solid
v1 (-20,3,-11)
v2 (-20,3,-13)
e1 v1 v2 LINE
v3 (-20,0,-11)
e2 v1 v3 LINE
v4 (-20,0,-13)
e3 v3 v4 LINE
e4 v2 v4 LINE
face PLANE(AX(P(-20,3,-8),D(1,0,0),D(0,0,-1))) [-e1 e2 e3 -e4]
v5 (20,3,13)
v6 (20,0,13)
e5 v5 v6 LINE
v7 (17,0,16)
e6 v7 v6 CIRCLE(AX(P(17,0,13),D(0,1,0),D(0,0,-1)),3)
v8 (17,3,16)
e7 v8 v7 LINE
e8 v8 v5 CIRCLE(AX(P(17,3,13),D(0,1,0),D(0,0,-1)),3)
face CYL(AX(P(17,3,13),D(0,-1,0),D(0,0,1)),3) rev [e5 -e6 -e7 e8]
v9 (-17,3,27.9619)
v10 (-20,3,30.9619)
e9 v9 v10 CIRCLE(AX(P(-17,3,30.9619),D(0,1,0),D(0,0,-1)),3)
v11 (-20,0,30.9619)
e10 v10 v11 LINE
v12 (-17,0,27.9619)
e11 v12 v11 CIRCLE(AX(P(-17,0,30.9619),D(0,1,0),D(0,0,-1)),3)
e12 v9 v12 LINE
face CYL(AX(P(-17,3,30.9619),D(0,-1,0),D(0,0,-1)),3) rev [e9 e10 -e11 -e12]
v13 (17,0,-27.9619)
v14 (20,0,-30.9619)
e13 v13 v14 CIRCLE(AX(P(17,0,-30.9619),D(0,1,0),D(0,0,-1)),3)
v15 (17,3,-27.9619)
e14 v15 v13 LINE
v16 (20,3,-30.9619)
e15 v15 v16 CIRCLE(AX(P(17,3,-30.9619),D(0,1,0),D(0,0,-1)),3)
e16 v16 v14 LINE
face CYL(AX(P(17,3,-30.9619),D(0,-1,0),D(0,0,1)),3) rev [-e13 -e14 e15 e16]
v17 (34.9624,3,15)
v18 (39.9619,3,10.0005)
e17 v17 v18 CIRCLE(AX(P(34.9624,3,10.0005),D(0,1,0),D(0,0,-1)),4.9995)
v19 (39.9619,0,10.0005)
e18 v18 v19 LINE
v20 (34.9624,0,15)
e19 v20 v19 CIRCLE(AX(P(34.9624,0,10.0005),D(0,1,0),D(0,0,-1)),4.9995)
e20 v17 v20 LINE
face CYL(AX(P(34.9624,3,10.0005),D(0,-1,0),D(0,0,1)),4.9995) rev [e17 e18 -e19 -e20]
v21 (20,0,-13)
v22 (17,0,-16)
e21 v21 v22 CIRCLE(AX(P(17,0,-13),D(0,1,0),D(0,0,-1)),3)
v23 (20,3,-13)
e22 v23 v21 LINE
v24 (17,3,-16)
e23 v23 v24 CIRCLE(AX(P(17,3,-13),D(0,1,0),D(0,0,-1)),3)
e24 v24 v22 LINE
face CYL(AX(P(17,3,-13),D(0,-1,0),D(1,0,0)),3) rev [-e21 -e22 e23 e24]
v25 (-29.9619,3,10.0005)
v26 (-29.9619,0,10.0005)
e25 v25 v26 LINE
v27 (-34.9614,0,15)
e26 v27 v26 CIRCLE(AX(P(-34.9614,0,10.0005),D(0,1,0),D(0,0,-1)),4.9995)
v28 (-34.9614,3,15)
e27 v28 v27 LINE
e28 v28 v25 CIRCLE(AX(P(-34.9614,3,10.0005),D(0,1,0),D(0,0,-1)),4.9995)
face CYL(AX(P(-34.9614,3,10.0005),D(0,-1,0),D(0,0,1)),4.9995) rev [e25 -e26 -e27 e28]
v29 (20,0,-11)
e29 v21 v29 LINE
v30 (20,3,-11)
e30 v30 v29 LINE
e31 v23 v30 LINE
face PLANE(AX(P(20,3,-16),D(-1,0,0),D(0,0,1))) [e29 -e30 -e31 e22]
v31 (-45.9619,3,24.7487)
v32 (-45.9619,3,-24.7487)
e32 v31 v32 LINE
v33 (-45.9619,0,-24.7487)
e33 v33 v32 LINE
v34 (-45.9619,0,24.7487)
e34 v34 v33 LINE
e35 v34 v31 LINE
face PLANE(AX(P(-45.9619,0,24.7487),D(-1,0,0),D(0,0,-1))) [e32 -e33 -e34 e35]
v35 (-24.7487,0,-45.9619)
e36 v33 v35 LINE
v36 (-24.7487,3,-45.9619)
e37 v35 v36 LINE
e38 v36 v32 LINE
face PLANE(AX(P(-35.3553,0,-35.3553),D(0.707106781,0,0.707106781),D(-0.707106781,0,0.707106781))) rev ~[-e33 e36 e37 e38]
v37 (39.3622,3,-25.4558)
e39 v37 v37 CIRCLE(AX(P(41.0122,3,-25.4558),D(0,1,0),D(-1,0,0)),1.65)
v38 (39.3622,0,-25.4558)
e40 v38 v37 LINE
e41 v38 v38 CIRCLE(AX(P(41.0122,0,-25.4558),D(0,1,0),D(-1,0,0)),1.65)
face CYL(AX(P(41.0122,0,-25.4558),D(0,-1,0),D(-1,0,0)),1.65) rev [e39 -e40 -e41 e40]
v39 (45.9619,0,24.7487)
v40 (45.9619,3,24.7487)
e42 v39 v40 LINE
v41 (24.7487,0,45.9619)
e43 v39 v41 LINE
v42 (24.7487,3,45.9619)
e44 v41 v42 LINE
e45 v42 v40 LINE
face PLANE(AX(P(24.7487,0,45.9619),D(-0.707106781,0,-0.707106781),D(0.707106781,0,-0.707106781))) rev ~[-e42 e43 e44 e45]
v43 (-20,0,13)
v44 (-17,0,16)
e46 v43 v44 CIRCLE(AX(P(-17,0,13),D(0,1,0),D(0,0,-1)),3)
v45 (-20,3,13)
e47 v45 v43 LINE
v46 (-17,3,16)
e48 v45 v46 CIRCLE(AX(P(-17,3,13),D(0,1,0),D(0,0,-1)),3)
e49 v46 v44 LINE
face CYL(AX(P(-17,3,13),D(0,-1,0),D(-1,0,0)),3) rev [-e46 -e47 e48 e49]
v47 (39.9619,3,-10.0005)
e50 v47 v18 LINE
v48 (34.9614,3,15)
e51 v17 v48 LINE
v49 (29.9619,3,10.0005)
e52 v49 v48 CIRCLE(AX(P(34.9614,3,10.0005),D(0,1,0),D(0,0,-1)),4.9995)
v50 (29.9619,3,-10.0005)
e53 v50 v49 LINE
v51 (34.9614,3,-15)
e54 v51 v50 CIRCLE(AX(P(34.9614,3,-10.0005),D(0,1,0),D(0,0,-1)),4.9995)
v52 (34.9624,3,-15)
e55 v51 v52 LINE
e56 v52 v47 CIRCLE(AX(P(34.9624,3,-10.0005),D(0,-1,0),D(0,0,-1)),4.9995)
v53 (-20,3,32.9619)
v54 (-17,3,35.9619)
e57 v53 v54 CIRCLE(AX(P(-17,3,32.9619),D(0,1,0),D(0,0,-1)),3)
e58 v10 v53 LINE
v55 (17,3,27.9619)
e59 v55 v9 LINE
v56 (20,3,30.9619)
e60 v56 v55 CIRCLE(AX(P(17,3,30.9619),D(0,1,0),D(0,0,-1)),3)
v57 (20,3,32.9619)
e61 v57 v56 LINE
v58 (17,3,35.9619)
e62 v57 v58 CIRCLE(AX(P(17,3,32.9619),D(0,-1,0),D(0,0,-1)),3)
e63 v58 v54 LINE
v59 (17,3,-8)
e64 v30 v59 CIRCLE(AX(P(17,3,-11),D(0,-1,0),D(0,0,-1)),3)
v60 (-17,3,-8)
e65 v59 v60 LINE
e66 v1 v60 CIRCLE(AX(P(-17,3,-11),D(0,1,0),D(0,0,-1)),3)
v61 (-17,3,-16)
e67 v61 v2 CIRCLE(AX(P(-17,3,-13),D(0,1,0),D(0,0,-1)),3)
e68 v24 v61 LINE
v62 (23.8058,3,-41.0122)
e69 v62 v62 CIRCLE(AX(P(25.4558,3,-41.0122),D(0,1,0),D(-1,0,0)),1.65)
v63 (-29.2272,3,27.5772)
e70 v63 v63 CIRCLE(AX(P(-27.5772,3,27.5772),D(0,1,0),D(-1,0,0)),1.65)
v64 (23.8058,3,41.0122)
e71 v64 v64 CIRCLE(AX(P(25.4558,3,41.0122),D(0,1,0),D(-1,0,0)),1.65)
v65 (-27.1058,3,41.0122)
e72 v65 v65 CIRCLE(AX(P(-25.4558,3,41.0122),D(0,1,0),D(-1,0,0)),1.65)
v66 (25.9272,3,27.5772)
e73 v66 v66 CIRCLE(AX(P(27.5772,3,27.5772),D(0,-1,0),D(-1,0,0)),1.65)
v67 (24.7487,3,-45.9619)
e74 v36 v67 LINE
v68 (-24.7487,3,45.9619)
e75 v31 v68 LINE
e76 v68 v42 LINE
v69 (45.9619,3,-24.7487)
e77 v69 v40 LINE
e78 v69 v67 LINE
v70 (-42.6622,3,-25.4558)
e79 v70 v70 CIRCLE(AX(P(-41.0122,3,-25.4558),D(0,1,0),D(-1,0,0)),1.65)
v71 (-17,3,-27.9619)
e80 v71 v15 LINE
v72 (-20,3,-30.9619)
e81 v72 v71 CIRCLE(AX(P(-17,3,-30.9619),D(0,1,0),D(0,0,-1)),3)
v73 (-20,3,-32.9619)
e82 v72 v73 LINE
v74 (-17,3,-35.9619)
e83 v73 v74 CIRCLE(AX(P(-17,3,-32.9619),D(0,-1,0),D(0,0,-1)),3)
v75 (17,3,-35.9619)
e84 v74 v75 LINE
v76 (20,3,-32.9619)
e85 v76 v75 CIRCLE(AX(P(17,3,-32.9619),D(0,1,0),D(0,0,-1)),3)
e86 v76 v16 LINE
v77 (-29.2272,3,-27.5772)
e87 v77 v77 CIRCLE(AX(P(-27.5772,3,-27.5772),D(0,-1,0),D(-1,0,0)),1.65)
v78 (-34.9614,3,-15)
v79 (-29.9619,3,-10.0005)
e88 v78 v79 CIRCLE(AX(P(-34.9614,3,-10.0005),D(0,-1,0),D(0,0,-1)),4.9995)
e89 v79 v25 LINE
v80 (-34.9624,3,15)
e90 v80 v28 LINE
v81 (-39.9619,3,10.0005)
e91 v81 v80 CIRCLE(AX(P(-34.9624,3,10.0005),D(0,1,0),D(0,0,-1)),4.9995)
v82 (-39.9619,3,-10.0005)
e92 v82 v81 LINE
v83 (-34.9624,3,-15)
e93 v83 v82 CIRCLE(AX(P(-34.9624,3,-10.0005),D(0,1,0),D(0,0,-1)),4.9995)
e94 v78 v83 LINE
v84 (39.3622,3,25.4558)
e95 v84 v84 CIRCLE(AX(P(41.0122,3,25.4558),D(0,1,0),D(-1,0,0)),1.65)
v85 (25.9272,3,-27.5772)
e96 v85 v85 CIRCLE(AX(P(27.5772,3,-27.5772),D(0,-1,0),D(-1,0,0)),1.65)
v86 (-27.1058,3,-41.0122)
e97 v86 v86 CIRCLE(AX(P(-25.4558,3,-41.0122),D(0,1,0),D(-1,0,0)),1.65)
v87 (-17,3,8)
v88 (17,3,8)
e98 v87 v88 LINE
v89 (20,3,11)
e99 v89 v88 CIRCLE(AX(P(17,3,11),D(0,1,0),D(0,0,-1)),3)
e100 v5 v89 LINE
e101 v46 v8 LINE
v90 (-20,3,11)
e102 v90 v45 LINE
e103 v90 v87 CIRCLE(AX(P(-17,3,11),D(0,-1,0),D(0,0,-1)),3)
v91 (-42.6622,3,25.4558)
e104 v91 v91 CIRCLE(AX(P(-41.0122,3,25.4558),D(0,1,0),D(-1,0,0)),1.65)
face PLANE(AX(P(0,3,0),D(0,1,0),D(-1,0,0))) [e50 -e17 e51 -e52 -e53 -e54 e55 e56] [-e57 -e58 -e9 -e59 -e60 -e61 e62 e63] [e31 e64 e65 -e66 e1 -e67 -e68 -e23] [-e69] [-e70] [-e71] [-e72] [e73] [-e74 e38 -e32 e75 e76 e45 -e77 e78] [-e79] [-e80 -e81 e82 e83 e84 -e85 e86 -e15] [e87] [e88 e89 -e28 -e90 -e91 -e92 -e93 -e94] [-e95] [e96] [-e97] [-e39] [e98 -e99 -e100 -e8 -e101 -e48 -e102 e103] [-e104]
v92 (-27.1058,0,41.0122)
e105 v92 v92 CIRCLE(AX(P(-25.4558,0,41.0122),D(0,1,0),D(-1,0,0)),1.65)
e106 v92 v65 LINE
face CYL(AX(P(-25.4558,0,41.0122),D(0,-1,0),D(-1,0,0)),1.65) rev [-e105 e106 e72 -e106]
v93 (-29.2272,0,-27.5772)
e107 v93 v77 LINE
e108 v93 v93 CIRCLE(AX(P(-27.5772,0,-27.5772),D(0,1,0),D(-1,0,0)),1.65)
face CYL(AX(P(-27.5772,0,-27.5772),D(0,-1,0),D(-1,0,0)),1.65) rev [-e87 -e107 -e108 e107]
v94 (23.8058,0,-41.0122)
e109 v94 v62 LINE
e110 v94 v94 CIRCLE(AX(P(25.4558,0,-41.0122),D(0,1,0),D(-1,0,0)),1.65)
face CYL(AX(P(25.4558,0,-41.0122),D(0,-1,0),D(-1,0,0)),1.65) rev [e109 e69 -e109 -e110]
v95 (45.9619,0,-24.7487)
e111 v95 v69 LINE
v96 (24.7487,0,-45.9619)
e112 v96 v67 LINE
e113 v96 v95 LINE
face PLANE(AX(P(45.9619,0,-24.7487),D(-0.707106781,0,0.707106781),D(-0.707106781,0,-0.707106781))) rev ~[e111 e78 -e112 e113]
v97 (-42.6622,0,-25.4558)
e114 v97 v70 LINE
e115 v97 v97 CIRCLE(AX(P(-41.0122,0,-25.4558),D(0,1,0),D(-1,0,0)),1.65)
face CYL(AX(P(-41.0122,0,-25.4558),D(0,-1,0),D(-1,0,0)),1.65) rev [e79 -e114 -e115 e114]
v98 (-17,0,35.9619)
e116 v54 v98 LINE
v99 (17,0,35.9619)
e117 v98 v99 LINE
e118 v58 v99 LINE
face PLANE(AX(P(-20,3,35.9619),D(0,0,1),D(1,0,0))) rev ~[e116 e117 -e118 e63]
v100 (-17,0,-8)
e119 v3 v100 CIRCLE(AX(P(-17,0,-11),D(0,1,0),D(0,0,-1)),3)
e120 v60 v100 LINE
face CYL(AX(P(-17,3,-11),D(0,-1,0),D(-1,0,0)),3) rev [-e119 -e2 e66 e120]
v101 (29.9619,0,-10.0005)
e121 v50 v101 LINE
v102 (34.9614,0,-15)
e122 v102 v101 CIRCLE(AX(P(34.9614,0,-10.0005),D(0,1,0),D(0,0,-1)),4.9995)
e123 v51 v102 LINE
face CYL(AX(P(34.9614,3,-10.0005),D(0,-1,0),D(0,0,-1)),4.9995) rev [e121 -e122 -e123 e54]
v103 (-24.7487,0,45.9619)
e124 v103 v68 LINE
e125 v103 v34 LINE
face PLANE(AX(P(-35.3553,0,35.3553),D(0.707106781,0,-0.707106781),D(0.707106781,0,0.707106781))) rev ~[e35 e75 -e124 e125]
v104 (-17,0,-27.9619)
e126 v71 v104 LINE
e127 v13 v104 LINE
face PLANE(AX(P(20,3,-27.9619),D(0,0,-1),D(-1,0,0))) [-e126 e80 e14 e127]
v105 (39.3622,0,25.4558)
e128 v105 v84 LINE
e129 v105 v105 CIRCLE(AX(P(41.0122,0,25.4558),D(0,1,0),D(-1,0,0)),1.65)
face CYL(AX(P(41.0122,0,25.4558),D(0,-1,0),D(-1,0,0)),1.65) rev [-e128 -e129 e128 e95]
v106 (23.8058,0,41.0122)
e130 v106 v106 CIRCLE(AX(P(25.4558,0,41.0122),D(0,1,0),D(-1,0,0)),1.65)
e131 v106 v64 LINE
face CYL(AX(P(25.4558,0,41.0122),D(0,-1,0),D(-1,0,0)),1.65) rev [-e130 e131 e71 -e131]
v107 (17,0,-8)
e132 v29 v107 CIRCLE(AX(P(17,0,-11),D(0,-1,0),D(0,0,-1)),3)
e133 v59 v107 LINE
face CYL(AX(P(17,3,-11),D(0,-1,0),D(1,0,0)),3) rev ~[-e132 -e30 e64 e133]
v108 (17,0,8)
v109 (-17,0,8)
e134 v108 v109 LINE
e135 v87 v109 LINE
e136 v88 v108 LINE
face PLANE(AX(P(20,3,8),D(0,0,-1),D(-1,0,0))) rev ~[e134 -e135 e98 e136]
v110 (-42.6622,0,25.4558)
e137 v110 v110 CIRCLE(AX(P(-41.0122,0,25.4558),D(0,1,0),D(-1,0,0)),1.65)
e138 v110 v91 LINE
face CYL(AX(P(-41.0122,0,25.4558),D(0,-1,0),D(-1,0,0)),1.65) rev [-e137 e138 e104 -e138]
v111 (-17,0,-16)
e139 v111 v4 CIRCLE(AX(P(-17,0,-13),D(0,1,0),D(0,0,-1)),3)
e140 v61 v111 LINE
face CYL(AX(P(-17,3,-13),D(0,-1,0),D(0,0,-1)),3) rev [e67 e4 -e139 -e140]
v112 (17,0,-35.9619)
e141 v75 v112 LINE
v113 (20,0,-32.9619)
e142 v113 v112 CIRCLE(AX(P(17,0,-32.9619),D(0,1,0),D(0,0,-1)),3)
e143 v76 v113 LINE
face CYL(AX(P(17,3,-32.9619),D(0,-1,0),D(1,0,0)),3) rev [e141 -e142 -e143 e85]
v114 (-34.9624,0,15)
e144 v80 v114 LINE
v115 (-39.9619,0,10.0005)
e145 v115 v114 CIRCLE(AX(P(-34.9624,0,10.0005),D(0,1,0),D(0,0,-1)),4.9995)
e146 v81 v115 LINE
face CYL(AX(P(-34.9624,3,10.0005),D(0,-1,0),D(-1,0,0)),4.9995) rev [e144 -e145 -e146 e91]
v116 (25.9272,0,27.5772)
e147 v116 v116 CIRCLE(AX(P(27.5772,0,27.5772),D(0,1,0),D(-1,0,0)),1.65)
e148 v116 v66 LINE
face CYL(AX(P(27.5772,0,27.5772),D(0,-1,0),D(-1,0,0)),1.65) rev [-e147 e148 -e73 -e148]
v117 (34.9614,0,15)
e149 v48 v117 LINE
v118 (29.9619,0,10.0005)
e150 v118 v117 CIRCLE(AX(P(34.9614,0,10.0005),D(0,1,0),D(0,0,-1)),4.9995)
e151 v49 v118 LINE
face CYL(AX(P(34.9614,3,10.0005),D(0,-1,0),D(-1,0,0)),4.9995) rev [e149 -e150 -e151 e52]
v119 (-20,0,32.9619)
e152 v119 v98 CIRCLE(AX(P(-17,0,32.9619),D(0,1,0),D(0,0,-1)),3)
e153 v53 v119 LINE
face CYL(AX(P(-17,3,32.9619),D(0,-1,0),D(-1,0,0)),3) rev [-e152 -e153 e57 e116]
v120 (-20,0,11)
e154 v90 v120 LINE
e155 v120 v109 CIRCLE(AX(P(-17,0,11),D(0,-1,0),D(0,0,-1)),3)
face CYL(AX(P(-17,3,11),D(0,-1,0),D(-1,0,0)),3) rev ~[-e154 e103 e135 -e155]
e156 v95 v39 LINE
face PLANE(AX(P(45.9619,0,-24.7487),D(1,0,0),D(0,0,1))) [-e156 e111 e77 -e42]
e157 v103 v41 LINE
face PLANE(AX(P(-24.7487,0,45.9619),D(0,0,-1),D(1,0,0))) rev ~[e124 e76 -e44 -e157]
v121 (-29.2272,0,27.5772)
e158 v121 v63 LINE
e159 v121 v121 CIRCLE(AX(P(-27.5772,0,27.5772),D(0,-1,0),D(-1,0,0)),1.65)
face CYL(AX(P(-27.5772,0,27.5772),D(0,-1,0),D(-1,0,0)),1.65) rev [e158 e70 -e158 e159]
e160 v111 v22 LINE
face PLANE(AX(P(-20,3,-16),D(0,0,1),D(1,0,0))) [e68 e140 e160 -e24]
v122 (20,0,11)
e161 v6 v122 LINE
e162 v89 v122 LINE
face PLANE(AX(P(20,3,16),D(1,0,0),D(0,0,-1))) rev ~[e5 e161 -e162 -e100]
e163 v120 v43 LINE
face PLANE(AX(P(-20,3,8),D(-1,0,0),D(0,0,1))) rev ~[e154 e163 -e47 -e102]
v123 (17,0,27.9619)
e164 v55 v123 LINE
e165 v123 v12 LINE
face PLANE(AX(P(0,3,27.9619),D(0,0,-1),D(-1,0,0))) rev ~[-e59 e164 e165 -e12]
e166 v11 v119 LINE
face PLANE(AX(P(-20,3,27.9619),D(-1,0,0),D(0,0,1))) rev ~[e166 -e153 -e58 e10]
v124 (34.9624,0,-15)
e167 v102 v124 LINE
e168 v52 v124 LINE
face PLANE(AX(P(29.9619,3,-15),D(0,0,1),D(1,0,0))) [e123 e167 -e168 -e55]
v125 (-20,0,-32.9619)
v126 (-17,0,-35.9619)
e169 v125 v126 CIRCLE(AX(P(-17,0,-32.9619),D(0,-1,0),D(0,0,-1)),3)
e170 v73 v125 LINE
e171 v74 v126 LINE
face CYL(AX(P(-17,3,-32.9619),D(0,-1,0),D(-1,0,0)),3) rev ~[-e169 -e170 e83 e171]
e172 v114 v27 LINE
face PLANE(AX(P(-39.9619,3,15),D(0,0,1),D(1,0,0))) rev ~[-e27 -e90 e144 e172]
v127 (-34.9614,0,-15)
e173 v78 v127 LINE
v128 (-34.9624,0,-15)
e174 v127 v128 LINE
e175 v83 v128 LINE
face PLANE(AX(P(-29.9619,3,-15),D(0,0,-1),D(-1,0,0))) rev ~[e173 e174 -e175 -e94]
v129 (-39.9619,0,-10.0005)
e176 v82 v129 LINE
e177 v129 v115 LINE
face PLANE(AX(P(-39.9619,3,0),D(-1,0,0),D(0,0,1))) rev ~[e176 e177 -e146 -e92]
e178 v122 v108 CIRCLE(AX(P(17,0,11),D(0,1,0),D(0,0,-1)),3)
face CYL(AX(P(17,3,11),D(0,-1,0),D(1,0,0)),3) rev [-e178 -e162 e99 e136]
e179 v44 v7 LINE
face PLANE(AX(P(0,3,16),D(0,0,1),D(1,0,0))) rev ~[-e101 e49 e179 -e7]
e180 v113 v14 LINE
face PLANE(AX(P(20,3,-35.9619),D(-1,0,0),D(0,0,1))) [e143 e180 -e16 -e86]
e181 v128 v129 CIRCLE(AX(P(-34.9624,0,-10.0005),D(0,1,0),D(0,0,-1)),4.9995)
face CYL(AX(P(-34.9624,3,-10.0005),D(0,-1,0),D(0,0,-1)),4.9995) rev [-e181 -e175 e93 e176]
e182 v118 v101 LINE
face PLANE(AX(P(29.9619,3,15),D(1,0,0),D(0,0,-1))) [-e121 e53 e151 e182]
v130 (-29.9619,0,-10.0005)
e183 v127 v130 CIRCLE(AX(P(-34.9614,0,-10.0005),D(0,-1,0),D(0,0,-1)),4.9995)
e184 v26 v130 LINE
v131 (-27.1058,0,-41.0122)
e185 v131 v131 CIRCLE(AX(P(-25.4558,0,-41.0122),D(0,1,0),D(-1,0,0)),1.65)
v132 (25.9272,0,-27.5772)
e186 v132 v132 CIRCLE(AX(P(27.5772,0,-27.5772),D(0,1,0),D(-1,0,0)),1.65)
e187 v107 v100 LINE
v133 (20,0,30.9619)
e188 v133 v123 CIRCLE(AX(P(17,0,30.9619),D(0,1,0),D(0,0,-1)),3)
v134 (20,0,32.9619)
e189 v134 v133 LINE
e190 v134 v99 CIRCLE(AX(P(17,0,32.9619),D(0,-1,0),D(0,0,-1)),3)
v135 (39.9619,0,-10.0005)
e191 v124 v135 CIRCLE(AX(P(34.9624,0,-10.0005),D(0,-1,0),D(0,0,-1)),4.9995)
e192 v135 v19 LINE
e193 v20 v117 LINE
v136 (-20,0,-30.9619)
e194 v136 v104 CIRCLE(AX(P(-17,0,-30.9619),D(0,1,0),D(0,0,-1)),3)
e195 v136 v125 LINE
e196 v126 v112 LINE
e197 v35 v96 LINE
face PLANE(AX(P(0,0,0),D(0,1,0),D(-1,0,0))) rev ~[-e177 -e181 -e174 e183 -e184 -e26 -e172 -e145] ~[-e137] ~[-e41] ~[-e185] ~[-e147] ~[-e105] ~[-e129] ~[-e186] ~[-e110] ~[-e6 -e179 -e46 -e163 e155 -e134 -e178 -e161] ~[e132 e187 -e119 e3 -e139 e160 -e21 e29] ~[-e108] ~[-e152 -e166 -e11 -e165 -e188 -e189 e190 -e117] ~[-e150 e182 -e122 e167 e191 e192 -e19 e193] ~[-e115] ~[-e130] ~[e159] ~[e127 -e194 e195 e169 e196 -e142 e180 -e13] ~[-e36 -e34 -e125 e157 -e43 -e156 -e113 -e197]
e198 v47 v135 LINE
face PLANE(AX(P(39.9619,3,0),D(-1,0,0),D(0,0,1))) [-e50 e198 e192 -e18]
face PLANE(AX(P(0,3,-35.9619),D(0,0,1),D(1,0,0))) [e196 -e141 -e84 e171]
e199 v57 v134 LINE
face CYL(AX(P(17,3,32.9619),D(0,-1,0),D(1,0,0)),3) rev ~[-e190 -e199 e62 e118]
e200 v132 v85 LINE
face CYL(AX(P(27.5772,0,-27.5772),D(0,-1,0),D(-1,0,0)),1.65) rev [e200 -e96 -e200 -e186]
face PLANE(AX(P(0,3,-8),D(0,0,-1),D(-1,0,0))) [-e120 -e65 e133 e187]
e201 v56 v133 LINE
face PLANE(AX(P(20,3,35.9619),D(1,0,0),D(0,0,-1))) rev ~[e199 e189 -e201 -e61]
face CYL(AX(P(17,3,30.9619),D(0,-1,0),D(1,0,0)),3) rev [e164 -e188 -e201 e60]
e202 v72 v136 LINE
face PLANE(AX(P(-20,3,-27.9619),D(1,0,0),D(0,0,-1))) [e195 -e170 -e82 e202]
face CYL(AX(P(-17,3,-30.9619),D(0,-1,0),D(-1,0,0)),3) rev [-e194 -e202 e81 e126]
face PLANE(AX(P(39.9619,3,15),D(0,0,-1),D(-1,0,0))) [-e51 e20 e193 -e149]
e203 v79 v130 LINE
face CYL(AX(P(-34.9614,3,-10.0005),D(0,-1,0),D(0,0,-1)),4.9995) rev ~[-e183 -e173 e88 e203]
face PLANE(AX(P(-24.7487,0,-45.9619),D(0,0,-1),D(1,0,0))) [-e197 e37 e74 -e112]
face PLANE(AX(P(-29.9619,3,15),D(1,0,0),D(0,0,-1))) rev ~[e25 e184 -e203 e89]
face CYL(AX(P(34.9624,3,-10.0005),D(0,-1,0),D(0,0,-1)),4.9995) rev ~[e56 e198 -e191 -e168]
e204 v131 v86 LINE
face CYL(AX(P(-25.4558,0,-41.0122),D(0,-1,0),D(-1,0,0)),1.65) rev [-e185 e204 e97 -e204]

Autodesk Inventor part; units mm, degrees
ref_plane "YZ Plane" through (0, 0, 0) normal (1, 0, 0) x (0, 1, 0)
ref_plane "XZ Plane" through (0, 0, 0) normal (0, 1, 0) x (-1, 0, 0)
ref_plane "XY Plane" through (0, 0, 0) normal (0, 0, 1) x (1, 0, 0)
sketch "草图1" plane through (0, 0, 0) normal (0, 1, 0) x (-1, 0, 0)
  line L0 (35.3553, 35.3553) -> (-35.3553, 35.3553)
  line L1 (-35.3553, 35.3553) -> (-35.3553, -35.3553)
  line L2 (-35.3553, -35.3553) -> (35.3553, -35.3553)
  line L3 (35.3553, -35.3553) -> (35.3553, 35.3553)
  line L4 (35.3553, 35.3553) -> (-35.3553, -35.3553)
  line L5 (35.3553, -35.3553) -> (-35.3553, 35.3553)
  line L6 (-24.7487, 45.9619) -> (-45.9619, 24.7487)
  line L7 (-45.9619, -24.7487) -> (-24.7487, -45.9619)
  line L8 (24.7487, -45.9619) -> (45.9619, -24.7487)
  line L9 (45.9619, 24.7487) -> (24.7487, 45.9619)
  line L10 (24.7487, 45.9619) -> (-24.7487, 45.9619)
  line L11 (45.9619, 24.7487) -> (45.9619, -24.7487)
  line L12 (24.7487, -45.9619) -> (-24.7487, -45.9619)
  line L13 (-45.9619, -24.7487) -> (-45.9619, 24.7487)
  circle A0 centre (41.0122, 25.4558) radius 1.65
  circle A1 centre (27.5772, 27.5772) radius 1.65
  circle A2 centre (25.4558, 41.0122) radius 1.65
  circle A3 centre (-25.4558, 41.0122) radius 1.65
  circle A4 centre (-27.5772, 27.5772) radius 1.65
  circle A5 centre (-41.0122, 25.4558) radius 1.65
  circle A6 centre (-41.0122, -25.4558) radius 1.65
  circle A7 centre (-27.5772, -27.5772) radius 1.65
  circle A8 centre (-25.4558, -41.0122) radius 1.65
  circle A9 centre (25.4558, -41.0122) radius 1.65
  circle A10 centre (27.5772, -27.5772) radius 1.65
  circle A11 centre (41.0122, -25.4558) radius 1.65
  point P0 (0, 0)
  point P1 (0, 0)
  point P2 (-35.3553, -35.3553)
  point P3 (35.3553, -35.3553)
  dimension "d0" = 100
  dimension "d1" = 30
  dimension "d2" = 45
  dimension "d5" = 360
  dimension "d12" = 3.3
  dimension "d13" = 3
  dimension "d14" = 11
  dimension "d15" = 3.3
  dimension "d16" = 11
  dimension "d19" = 360
extrude "拉伸1" add sketch "草图1" along normal blind 3 contours L4 A1 L5 A4 L0 | L9 L11 L8 L3 | L3 L5 A10 L4 A1 | L0 L6 L10 L9 | L5 A4 L4 A7 L1 | L1 L7 L13 L6 | L8 L12 L7 L2 | L2 L4 A7 L5 A10
sketch "草图2" plane through (0, 3, 0) normal (0, 1, 0) x (1, 0, 0)
  line L0 (45.9619, -24.7487) -> (45.9619, 24.7487) projected
  line L1 (45.9619, 24.7487) -> (24.7487, 45.9619) projected
  line L2 (24.7487, 45.9619) -> (-24.7487, 45.9619) projected
  line L3 (-24.7487, 45.9619) -> (-45.9619, 24.7487) projected
  line L4 (-45.9619, 24.7487) -> (-45.9619, -24.7487) projected
  line L5 (-45.9619, -24.7487) -> (-24.7487, -45.9619) projected
  line L6 (-24.7487, -45.9619) -> (24.7487, -45.9619) projected
  line L7 (24.7487, -45.9619) -> (45.9619, -24.7487) projected
  circle A0 centre (27.5772, 27.5772) radius 1.65 projected
  circle A1 centre (-27.5772, 27.5772) radius 1.65 projected
  circle A2 centre (25.4558, -41.0122) radius 1.65 projected
  circle A3 centre (-25.4558, -41.0122) radius 1.65 projected
  circle A4 centre (-41.0122, 25.4558) radius 1.65 projected
  circle A5 centre (-41.0122, -25.4558) radius 1.65 projected
  circle A6 centre (25.4558, 41.0122) radius 1.65 projected
  circle A7 centre (-25.4558, 41.0122) radius 1.65 projected
  circle A8 centre (-27.5772, -27.5772) radius 1.65 projected
  circle A9 centre (41.0122, -25.4558) radius 1.65 projected
  circle A10 centre (41.0122, 25.4558) radius 1.65 projected
  circle A11 centre (27.5772, -27.5772) radius 1.65 projected
  line L8 (-45.9619, 0) -> (0, 0)
  line L9 (0, 0) -> (45.9619, 0)
  line L10 (0, 0) -> (0, 45.9619)
  line L11 (0, 0) -> (0, -45.9619)
  line L12 (-39.9619, -15) -> (-29.9619, -15)
  line L13 (-29.9619, -15) -> (-29.9619, 15)
  line L14 (-29.9619, 15) -> (-39.9619, 15)
  line L15 (-39.9619, 15) -> (-39.9619, -15)
  line L16 (-20, -16) -> (20, -16)
  line L17 (20, -16) -> (20, -8)
  line L18 (20, -8) -> (-20, -8)
  line L19 (-20, -8) -> (-20, -16)
  line L20 (39.9619, -15) -> (29.9619, -15)
  line L21 (29.9619, -15) -> (29.9619, 15)
  line L22 (29.9619, 15) -> (39.9619, 15)
  line L23 (39.9619, 15) -> (39.9619, -15)
  line L24 (-20, -35.9619) -> (20, -35.9619)
  line L25 (20, -35.9619) -> (20, -27.9619)
  line L26 (20, -27.9619) -> (-20, -27.9619)
  line L27 (-20, -27.9619) -> (-20, -35.9619)
  line L28 (-20, 16) -> (20, 16)
  line L29 (20, 16) -> (20, 8)
  line L30 (20, 8) -> (-20, 8)
  line L31 (-20, 8) -> (-20, 16)
  line L32 (-20, 35.9619) -> (20, 35.9619)
  line L33 (20, 35.9619) -> (20, 27.9619)
  line L34 (20, 27.9619) -> (-20, 27.9619)
  line L35 (-20, 27.9619) -> (-20, 35.9619)
  dimension "d21" = 30
  dimension "d22" = 10
  dimension "d23" = 6
  dimension "d24" = 15
  dimension "d25" = 8
  dimension "d27" = 8
  dimension "d29" = 40
  dimension "d30" = 20
  dimension "d31" = 8
  dimension "d32" = 40
  dimension "d33" = 20
  dimension "d34" = 10
extrude "拉伸2" cut sketch "草图2" against normal through all contours L23 L20 L21 L9 | L9 L21 L22 L23 | L24 L27 L26 L11 | L11 L26 L25 L24 | L32 L33 L34 L10 | L10 L34 L35 L32 | L13 L12 L15 L8 | L8 L15 L14 L13 | L30 L31 L28 L10 | L10 L28 L29 L30 | L18 L17 L16 L11 | L11 L16 L19 L18
fillet "圆角1" radius 5 8 edges at (-39.9619, 1.5, 15) (-29.9619, 1.5, 15) (-39.9619, 1.5, -15) (-29.9619, 1.5, -15) (29.9619, 1.5, -15) (39.9619, 1.5, -15) (39.9619, 1.5, 15) (29.9619, 1.5, 15)
fillet "圆角2" radius 3 16 edges at (-20, 1.5, 35.9619) (-20, 1.5, 27.9619) (20, 1.5, 35.9619) (20, 1.5, 27.9619) (-20, 1.5, 16) (-20, 1.5, 8) (20, 1.5, 16) (20, 1.5, 8) (-20, 1.5, -8) (20, 1.5, -8) (-20, 1.5, -16) (20, 1.5, -16) (-20, 1.5, -27.9619) (-20, 1.5, -35.9619) (20, 1.5, -27.9619) (20, 1.5, -35.9619)
properties part number "上板"
